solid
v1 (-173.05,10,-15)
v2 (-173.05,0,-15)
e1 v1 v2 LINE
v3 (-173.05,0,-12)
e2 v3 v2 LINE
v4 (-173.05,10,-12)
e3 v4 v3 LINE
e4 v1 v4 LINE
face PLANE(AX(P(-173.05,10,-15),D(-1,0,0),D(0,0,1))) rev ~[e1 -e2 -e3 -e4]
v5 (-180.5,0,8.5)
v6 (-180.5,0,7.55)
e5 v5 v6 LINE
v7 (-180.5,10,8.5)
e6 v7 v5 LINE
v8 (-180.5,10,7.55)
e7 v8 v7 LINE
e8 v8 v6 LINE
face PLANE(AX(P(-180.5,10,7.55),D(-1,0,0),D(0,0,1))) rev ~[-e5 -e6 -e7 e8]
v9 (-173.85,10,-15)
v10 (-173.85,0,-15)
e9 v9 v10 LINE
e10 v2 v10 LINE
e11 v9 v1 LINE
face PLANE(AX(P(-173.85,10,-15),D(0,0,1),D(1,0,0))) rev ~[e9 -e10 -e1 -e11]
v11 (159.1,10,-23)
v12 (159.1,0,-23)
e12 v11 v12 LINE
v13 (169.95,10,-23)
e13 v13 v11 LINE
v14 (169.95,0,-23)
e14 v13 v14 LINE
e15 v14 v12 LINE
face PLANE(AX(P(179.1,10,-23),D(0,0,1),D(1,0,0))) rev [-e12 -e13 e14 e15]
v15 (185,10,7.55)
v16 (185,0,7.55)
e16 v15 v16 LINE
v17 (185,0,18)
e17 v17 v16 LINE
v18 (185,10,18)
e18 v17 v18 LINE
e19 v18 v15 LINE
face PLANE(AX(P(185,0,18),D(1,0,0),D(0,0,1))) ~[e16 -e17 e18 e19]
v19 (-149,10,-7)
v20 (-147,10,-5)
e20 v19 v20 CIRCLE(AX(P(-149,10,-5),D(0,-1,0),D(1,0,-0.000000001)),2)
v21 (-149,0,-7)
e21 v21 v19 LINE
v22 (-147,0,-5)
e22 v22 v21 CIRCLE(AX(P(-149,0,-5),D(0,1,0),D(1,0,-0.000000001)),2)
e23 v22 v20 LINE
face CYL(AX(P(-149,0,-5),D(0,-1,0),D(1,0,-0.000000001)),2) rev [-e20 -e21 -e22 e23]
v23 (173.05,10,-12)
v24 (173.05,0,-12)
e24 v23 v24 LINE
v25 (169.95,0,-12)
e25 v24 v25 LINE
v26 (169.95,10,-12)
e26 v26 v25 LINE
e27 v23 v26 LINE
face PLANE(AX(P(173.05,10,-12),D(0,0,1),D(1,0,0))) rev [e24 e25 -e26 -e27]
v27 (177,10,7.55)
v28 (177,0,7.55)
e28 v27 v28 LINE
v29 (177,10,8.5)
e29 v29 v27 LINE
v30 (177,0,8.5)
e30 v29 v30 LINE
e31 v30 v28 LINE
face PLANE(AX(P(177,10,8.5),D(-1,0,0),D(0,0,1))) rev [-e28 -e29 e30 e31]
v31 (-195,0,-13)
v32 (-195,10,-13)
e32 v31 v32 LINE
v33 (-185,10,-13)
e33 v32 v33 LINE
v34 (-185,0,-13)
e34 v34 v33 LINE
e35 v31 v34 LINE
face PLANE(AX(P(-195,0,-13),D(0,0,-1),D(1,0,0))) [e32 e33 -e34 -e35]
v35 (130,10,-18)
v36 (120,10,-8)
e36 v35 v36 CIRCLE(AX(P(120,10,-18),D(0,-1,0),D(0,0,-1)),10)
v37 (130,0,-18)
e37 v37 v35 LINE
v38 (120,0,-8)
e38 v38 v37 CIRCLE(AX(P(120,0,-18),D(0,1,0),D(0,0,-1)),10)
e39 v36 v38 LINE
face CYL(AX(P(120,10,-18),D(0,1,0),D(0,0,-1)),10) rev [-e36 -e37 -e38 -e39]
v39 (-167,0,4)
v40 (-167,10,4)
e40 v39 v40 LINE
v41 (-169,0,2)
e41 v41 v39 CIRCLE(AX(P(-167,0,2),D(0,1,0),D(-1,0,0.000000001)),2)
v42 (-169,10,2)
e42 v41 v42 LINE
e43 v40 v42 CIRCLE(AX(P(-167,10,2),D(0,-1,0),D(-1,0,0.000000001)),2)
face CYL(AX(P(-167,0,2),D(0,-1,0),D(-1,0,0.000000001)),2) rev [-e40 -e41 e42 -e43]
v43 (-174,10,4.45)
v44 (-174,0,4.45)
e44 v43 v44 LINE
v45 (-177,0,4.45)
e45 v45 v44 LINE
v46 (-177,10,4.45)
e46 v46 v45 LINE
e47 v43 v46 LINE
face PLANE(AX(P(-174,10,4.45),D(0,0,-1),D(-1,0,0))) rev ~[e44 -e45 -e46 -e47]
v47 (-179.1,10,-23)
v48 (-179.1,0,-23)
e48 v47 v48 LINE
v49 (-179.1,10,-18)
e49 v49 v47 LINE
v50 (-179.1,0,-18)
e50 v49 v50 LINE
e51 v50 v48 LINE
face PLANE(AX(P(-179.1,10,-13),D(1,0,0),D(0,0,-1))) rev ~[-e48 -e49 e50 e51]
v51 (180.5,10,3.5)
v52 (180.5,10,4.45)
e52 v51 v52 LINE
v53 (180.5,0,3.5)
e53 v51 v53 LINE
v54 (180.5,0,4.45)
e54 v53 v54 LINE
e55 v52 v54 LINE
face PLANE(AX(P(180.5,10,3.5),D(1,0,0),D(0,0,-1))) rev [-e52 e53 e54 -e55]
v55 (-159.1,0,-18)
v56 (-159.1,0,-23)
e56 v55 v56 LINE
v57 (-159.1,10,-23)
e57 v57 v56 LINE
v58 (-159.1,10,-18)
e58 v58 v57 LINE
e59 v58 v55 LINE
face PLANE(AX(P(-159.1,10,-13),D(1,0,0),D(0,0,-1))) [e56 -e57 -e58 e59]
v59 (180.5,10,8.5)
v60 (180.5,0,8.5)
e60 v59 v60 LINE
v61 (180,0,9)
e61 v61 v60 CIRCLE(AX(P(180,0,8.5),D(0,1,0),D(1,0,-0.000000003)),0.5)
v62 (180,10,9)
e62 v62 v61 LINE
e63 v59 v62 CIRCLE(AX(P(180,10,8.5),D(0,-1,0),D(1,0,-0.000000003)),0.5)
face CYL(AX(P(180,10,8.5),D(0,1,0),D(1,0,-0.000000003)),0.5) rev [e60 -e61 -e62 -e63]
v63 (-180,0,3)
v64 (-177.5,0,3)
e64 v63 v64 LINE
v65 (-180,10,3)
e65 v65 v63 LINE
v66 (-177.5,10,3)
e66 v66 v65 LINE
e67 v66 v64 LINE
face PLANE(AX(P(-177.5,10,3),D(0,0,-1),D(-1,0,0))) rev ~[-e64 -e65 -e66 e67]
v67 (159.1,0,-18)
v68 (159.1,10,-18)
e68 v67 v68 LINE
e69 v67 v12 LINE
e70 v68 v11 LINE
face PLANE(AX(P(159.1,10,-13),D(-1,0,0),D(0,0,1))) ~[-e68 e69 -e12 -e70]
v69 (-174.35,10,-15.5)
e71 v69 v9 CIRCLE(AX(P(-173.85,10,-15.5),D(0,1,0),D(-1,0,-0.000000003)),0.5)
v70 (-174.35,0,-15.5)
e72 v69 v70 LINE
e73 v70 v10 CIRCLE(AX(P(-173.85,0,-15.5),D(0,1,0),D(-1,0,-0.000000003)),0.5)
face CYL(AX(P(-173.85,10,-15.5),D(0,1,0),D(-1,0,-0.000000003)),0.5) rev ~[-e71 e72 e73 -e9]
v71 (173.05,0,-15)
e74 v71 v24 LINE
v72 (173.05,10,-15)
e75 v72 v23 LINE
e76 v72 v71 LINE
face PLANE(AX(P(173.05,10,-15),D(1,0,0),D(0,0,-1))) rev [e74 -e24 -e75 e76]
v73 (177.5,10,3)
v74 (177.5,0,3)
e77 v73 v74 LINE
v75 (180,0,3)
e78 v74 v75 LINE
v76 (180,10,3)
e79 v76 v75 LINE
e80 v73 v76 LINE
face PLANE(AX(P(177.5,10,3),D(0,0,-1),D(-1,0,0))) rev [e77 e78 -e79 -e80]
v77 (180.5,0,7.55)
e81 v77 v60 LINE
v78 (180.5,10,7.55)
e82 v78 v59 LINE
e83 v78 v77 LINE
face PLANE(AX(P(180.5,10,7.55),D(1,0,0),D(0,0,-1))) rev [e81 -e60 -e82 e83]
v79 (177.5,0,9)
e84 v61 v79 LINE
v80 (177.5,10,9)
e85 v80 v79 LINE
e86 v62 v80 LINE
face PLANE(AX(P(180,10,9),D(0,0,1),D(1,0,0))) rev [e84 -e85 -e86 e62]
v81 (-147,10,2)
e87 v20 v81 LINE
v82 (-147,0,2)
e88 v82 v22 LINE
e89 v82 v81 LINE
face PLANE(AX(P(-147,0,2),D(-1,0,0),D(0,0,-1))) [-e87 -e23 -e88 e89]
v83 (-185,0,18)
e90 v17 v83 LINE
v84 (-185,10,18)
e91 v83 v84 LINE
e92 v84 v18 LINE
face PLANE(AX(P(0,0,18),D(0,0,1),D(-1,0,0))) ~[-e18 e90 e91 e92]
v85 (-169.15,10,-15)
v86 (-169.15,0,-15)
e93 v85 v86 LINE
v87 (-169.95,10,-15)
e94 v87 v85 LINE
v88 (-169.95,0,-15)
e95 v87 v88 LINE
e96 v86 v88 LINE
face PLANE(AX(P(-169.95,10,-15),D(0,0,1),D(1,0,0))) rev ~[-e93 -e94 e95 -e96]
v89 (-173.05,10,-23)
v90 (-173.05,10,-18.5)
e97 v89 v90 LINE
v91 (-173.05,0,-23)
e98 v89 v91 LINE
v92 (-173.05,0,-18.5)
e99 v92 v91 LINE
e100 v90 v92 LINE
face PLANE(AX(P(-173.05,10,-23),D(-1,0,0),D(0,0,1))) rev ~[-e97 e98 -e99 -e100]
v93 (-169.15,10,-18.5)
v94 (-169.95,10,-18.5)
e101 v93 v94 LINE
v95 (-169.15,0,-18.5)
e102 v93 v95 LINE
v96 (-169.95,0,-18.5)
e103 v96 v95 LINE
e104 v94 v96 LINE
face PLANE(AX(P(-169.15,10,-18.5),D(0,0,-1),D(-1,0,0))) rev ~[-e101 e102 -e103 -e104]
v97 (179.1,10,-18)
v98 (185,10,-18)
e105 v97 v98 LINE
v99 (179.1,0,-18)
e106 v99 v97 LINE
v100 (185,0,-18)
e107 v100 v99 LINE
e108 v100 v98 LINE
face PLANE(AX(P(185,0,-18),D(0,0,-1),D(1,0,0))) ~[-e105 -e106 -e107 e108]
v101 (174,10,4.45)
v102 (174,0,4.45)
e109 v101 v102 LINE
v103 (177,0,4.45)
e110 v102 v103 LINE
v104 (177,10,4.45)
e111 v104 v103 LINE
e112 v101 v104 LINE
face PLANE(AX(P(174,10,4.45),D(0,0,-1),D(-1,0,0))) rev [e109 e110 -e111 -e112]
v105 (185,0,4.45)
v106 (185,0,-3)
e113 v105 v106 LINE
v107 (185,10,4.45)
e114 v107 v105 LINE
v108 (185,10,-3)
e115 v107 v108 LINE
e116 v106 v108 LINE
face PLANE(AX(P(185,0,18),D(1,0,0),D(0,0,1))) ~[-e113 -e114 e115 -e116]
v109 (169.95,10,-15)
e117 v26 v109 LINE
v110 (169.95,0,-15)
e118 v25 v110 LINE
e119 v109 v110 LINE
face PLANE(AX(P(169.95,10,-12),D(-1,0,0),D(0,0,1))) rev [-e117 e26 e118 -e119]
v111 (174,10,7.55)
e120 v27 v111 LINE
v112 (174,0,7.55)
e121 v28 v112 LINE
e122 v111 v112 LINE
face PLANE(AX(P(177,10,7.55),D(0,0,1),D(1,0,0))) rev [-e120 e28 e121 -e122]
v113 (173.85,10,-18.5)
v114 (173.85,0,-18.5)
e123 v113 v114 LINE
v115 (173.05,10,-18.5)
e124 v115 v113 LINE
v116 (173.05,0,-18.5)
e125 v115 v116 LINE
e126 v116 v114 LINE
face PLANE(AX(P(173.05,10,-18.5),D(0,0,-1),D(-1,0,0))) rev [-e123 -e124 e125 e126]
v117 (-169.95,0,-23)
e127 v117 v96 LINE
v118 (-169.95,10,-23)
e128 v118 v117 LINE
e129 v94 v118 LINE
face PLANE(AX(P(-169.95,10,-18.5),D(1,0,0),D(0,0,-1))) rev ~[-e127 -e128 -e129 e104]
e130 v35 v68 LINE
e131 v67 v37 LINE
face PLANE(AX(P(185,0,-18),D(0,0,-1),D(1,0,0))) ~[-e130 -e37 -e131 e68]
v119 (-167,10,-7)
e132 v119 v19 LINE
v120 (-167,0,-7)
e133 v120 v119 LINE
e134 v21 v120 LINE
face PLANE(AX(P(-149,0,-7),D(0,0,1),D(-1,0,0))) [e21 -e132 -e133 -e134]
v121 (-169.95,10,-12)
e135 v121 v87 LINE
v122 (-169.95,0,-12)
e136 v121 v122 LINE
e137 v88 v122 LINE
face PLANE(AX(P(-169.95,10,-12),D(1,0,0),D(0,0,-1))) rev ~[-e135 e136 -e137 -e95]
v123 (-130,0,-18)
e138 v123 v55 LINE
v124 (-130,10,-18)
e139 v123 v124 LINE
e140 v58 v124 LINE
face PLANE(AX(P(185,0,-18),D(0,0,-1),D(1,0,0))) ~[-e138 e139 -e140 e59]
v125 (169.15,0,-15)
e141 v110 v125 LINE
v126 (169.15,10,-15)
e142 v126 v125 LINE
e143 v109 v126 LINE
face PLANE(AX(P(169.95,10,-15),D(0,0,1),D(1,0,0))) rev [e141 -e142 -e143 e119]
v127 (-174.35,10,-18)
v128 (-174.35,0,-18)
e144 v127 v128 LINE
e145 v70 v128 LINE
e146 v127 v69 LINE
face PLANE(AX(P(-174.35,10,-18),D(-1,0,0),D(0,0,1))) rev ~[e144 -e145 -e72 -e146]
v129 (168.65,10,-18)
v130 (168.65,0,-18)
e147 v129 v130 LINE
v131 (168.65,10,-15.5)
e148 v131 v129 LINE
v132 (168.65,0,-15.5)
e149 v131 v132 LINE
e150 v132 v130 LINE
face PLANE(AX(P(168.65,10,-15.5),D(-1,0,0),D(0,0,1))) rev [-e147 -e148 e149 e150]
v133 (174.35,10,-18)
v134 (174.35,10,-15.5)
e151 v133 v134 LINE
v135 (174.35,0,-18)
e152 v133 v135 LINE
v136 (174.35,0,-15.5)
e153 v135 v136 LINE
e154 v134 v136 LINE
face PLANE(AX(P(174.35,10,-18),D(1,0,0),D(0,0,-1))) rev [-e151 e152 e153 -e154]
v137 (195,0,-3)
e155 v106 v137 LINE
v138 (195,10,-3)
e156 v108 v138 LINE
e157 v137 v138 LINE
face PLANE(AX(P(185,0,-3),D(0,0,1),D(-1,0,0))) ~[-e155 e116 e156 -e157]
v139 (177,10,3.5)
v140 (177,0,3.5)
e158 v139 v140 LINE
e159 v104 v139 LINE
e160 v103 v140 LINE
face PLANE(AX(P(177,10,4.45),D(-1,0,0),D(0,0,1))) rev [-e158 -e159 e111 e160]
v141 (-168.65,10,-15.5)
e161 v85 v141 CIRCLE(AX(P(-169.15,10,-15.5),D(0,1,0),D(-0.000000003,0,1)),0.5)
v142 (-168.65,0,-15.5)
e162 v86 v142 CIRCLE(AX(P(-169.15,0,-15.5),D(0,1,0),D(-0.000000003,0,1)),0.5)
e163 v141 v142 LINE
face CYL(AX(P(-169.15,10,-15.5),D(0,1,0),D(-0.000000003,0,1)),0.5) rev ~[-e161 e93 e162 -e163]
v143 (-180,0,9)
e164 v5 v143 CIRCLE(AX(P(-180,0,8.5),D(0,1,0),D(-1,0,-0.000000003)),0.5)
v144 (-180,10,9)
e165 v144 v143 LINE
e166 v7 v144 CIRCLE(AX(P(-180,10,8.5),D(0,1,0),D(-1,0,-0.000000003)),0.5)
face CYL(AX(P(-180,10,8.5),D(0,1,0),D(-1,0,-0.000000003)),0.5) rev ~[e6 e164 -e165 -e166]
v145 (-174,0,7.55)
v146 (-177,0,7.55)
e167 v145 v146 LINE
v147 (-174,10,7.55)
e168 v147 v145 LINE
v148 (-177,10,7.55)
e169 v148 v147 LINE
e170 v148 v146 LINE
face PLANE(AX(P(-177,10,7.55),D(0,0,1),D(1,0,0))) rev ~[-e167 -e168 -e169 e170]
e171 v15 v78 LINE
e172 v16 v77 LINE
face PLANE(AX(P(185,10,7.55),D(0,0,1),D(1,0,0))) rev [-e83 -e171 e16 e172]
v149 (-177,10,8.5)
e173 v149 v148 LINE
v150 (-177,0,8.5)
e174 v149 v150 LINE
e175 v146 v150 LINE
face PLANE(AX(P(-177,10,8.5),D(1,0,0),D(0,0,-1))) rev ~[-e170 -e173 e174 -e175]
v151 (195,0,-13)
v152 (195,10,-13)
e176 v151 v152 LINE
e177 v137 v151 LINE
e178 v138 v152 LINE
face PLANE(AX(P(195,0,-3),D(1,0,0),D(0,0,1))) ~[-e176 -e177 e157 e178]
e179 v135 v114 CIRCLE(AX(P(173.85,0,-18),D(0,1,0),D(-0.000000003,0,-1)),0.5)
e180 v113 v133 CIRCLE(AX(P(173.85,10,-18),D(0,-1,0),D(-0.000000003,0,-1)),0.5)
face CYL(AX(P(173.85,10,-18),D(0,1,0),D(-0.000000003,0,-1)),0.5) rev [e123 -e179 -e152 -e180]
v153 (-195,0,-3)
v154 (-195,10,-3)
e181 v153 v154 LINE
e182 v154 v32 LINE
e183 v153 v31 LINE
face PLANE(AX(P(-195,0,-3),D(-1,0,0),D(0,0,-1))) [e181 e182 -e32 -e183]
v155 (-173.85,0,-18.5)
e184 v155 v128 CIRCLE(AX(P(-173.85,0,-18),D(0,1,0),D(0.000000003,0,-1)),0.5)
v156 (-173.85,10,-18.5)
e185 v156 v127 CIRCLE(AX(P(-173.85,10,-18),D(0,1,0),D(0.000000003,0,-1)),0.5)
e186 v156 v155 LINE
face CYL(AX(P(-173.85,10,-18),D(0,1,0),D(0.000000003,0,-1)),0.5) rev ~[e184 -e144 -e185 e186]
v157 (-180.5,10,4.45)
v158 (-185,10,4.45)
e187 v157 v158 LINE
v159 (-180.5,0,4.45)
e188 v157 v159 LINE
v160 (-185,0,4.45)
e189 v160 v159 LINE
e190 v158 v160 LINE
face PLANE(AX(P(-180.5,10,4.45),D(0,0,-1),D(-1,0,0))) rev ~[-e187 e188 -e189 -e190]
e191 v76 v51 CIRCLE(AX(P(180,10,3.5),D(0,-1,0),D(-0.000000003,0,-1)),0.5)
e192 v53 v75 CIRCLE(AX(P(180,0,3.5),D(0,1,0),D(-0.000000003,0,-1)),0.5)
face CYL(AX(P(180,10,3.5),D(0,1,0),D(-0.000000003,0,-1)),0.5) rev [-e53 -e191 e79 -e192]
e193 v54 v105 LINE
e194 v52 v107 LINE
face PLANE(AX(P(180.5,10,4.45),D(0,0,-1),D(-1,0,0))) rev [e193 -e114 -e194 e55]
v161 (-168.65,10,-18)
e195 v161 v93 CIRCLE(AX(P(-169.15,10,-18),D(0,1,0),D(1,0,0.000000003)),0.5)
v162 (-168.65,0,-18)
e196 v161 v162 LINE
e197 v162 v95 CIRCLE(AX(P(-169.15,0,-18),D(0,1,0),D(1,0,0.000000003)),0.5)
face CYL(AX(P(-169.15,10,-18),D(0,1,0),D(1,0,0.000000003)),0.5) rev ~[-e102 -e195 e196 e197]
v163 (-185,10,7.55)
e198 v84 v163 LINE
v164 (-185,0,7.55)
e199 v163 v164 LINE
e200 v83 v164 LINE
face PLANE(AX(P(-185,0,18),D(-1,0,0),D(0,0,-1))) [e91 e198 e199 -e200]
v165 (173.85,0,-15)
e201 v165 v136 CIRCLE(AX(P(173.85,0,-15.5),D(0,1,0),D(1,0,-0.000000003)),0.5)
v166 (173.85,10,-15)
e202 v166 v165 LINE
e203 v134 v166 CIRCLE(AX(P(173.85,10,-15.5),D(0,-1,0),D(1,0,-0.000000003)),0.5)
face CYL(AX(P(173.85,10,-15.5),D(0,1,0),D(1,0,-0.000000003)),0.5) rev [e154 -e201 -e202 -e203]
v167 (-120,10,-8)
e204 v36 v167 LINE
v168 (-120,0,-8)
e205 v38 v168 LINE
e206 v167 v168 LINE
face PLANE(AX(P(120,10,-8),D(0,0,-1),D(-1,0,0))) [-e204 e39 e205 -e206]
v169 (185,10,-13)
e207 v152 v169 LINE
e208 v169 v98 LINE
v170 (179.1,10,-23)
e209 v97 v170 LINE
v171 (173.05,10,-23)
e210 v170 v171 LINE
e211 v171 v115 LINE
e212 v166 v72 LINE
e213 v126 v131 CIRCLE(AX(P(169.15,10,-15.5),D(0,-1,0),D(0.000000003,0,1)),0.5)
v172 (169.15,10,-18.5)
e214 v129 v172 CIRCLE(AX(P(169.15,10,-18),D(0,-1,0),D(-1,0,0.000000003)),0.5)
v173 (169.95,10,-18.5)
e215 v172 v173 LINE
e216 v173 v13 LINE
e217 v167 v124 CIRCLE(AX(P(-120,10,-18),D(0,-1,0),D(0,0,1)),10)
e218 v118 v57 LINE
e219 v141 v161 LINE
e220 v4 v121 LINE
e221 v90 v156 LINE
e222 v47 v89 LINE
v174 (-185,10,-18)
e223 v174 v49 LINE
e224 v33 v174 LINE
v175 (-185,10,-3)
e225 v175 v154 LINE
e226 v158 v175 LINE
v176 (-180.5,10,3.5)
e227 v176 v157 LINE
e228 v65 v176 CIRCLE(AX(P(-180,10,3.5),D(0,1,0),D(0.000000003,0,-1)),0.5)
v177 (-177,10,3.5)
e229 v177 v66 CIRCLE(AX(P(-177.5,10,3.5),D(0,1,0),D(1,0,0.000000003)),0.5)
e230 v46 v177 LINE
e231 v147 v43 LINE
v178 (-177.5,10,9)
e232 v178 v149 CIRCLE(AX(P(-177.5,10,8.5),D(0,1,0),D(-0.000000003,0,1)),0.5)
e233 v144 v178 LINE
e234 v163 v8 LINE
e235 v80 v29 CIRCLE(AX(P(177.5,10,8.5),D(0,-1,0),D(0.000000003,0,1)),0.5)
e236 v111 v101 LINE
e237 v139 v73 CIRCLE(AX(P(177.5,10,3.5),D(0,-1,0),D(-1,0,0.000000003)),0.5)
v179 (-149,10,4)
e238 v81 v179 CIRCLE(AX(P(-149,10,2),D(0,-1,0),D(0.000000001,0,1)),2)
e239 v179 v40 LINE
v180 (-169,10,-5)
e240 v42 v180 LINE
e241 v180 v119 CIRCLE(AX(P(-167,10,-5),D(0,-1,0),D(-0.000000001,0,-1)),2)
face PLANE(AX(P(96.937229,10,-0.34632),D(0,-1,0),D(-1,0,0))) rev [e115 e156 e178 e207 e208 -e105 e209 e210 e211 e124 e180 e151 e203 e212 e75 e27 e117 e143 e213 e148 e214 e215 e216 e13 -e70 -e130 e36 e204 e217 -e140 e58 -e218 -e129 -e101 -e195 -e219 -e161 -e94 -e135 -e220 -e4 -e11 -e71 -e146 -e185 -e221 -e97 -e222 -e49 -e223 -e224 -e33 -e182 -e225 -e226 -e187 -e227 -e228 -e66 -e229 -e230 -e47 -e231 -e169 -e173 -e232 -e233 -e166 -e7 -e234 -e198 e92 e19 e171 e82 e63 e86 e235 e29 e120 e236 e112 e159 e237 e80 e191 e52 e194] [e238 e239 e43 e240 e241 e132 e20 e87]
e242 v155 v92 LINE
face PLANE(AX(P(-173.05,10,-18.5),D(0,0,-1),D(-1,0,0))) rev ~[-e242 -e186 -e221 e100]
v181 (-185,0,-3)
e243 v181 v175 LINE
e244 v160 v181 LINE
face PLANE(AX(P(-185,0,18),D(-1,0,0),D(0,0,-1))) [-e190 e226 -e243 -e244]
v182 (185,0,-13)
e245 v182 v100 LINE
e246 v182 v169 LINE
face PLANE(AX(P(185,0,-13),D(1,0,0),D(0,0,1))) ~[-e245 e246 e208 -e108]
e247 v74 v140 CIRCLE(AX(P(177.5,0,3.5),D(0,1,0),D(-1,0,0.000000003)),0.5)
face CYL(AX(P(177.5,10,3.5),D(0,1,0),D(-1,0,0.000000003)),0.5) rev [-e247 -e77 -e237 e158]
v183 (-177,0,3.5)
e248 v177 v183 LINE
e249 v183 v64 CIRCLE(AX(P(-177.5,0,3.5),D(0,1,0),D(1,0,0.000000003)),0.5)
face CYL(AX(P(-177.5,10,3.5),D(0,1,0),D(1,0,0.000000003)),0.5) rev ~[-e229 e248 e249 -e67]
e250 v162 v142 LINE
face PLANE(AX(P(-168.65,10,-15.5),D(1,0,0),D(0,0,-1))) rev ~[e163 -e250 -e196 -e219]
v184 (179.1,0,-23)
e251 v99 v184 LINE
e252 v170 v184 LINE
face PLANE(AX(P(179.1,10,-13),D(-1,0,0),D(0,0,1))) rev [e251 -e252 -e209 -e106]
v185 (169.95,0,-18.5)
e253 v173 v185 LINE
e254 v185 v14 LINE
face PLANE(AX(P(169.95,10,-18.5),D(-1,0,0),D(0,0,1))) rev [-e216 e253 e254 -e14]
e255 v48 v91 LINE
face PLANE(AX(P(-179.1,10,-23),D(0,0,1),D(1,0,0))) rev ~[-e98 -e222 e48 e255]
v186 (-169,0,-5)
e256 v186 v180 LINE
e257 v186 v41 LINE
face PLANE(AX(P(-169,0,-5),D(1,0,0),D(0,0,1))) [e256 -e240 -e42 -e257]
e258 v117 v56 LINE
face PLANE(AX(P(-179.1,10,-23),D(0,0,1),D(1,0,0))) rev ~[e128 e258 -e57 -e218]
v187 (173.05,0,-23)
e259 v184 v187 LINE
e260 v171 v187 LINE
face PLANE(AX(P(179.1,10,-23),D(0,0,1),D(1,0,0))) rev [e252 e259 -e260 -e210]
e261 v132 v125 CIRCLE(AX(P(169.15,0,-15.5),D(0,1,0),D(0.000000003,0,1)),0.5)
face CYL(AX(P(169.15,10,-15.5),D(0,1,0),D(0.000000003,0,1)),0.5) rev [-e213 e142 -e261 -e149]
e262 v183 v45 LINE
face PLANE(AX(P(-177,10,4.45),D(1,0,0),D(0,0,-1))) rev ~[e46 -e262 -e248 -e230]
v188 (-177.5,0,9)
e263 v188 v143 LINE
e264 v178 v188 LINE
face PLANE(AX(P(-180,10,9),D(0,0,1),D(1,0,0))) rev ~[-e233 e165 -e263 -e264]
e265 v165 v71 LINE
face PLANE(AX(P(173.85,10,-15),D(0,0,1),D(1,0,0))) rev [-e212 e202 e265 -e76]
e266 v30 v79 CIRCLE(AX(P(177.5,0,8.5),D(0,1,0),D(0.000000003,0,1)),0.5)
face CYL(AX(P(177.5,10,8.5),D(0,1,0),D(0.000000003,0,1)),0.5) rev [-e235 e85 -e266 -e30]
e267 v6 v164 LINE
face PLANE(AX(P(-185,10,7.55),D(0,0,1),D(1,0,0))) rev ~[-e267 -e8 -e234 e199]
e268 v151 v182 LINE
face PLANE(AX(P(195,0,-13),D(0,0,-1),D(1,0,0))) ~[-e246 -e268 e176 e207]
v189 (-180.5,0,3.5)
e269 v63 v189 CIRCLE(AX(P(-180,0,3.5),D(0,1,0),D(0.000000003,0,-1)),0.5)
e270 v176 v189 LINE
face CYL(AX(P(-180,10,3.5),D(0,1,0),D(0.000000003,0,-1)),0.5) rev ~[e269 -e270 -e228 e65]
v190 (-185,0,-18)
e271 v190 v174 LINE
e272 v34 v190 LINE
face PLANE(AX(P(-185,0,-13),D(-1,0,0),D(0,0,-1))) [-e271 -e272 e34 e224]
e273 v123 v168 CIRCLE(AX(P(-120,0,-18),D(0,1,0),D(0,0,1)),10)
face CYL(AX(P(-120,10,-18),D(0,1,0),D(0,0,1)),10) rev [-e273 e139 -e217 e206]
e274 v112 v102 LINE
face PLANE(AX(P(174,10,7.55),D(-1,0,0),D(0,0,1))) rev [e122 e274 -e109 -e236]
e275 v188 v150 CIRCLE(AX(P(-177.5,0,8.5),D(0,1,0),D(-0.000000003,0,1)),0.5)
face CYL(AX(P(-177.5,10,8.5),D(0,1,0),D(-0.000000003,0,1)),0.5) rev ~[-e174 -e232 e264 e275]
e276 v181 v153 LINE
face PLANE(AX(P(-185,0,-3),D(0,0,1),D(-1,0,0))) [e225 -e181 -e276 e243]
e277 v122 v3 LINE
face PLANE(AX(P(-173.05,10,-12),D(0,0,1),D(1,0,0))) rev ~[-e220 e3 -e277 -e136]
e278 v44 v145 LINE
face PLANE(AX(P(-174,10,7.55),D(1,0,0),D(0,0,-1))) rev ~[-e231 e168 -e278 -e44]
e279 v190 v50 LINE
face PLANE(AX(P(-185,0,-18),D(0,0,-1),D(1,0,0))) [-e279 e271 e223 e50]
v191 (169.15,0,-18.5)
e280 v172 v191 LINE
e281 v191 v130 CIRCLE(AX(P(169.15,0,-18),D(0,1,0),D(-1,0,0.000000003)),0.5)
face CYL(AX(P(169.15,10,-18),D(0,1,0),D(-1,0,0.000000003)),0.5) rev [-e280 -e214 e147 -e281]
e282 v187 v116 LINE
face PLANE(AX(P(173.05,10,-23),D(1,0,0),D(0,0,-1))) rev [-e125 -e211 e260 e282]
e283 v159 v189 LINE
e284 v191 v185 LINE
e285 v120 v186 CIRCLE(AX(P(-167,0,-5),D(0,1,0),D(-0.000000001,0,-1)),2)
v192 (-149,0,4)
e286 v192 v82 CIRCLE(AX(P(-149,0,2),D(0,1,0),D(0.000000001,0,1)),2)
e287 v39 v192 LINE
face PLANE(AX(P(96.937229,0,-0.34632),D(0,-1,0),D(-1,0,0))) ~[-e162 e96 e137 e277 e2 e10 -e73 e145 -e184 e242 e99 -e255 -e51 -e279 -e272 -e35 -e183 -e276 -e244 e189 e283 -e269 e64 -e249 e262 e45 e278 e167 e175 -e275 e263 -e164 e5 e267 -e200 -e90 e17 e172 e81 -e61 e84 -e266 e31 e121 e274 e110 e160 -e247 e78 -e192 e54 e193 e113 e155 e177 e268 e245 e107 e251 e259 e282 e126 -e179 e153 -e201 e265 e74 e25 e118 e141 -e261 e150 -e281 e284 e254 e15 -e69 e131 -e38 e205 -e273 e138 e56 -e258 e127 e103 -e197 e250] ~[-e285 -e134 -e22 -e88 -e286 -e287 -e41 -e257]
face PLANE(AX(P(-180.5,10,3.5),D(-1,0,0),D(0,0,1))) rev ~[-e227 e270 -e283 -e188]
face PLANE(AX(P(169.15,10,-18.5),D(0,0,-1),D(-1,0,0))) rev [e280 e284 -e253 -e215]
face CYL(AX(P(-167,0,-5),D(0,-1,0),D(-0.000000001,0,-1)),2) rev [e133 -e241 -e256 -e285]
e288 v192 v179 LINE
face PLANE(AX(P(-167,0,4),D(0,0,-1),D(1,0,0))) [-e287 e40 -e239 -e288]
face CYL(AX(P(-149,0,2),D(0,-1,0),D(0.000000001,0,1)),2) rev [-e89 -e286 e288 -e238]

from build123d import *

# Parameters (mm, degrees)
MAINSHAPE_DEPTH      = 10
SKETCH15_W           = 20
SKETCH15_H           = 10
BOSS_EXTRUDE4_DEPTH  = 10
SCREWSLOTS_DEPTH     = 197.606205395
LCDCABLECUTOUT_DEPTH = 197.606205395
CUT_EXTRUDE5_DEPTH   = 197.606205395


with BuildPart() as part:
    # Sketch1 → MainShape (new body)
    with BuildSketch(Plane(origin=(0, 0, 0), x_dir=(1, 0, 0), z_dir=(0, 1, 0))):
        Polygon((-185, 18), (0, 18), (0, -18), (-185, -18), (-185, 3), (-195, 3), (-195, 13), (-185, 13), align=None)
    mainshape = extrude(amount=MAINSHAPE_DEPTH)

    # Sketch15 → Boss-Extrude4 (add, through all)
    with BuildSketch(Plane(origin=(0, 10, 0), x_dir=(1, 0, 0), z_dir=(0, 1, 0))):
        with Locations((-169.1, 18)):
            Rectangle(SKETCH15_W, SKETCH15_H)
    boss_extrude4 = extrude(amount=-BOSS_EXTRUDE4_DEPTH)

    # Sketch2 → ScrewSlots (cut, through all)
    with BuildSketch(Plane(origin=(0, 10, 0), x_dir=(1, 0, 0), z_dir=(0, 1, 0))):
        with BuildLine():
            Line((-173.05, 23), (-173.05, 18.5))
            Line((-173.05, 18.5), (-173.85, 18.5))
            ThreePointArc((-173.85, 18.5), (-174.203553391, 18.353553391), (-174.35, 18))
            Line((-174.35, 18), (-174.35, 15.5))
            ThreePointArc((-174.35, 15.5), (-174.203553391, 15.146446609), (-173.85, 15))
            Line((-173.85, 15), (-173.05, 15))
            Line((-173.05, 15), (-173.05, 12))
            Line((-173.05, 12), (-169.95, 12))
            Line((-169.95, 12), (-169.95, 15))
            Line((-169.95, 15), (-169.15, 15))
            ThreePointArc((-169.15, 15), (-168.796446609, 15.146446609), (-168.65, 15.5))
            Line((-168.65, 15.5), (-168.65, 18))
            ThreePointArc((-168.65, 18), (-168.796446609, 18.353553391), (-169.15, 18.5))
            Line((-169.15, 18.5), (-169.95, 18.5))
            Line((-169.95, 18.5), (-169.95, 23))
            Line((-169.95, 23), (-173.05, 23))
        make_face()
        with BuildLine():
            Line((-174, -7.55), (-174, -4.45))
            Line((-174, -4.45), (-177, -4.45))
            Line((-177, -4.45), (-177, -3.5))
            ThreePointArc((-177, -3.5), (-177.146446609, -3.146446609), (-177.5, -3))
            Line((-177.5, -3), (-180, -3))
            ThreePointArc((-180, -3), (-180.353553391, -3.146446609), (-180.5, -3.5))
            Line((-180.5, -3.5), (-180.5, -4.45))
            Line((-180.5, -4.45), (-185, -4.45))
            Line((-185, -4.45), (-185, -7.55))
            Line((-185, -7.55), (-180.5, -7.55))
            Line((-180.5, -7.55), (-180.5, -8.5))
            ThreePointArc((-180.5, -8.5), (-180.353553391, -8.853553391), (-180, -9))
            Line((-180, -9), (-177.5, -9))
            ThreePointArc((-177.5, -9), (-177.146446609, -8.853553391), (-177, -8.5))
            Line((-177, -8.5), (-177, -7.55))
            Line((-177, -7.55), (-174, -7.55))
        make_face()
    screwslots = extrude(amount=-SCREWSLOTS_DEPTH, mode=Mode.SUBTRACT)

    # Mirror1: MainShape, Boss-Extrude4, ScrewSlots across plane
    add(mainshape.mirror(Plane(origin=(0, 0, 0), x_dir=(0, 0, 1), z_dir=(1, 0, 0))))
    add(boss_extrude4.mirror(Plane(origin=(0, 0, 0), x_dir=(0, 0, 1), z_dir=(1, 0, 0))))
    add(screwslots.mirror(Plane(origin=(0, 0, 0), x_dir=(0, 0, 1), z_dir=(1, 0, 0))), mode=Mode.SUBTRACT)

    # Sketch11 → LCDCableCutout (cut, through all)
    with BuildSketch(Plane.XZ):
        with BuildLine():
            Line((-149, -7), (-167, -7))
            ThreePointArc((-167, -7), (-168.414213562, -6.414213562), (-169, -5))
            Line((-169, -5), (-169, 2))
            ThreePointArc((-169, 2), (-168.414213562, 3.414213562), (-167, 4))
            Line((-167, 4), (-149, 4))
            ThreePointArc((-149, 4), (-147.585786438, 3.414213562), (-147, 2))
            Line((-147, 2), (-147, -5))
            ThreePointArc((-147, -5), (-147.585786438, -6.414213562), (-149, -7))
        make_face()
    extrude(amount=-LCDCABLECUTOUT_DEPTH, mode=Mode.SUBTRACT)

    # Sketch13 → Cut-Extrude5 (cut, through all)
    with BuildSketch(Plane(origin=(0, 10, 0), x_dir=(1, 0, 0), z_dir=(0, 1, 0))):
        with BuildLine():
            Line((120, 8), (-120, 8))
            ThreePointArc((-120, 8), (-130, 18), (-120, 28))
            Line((-120, 28), (120, 28))
            ThreePointArc((120, 28), (130, 18), (120, 8))
        make_face()
    extrude(amount=-CUT_EXTRUDE5_DEPTH, mode=Mode.SUBTRACT)


solid = part.part
